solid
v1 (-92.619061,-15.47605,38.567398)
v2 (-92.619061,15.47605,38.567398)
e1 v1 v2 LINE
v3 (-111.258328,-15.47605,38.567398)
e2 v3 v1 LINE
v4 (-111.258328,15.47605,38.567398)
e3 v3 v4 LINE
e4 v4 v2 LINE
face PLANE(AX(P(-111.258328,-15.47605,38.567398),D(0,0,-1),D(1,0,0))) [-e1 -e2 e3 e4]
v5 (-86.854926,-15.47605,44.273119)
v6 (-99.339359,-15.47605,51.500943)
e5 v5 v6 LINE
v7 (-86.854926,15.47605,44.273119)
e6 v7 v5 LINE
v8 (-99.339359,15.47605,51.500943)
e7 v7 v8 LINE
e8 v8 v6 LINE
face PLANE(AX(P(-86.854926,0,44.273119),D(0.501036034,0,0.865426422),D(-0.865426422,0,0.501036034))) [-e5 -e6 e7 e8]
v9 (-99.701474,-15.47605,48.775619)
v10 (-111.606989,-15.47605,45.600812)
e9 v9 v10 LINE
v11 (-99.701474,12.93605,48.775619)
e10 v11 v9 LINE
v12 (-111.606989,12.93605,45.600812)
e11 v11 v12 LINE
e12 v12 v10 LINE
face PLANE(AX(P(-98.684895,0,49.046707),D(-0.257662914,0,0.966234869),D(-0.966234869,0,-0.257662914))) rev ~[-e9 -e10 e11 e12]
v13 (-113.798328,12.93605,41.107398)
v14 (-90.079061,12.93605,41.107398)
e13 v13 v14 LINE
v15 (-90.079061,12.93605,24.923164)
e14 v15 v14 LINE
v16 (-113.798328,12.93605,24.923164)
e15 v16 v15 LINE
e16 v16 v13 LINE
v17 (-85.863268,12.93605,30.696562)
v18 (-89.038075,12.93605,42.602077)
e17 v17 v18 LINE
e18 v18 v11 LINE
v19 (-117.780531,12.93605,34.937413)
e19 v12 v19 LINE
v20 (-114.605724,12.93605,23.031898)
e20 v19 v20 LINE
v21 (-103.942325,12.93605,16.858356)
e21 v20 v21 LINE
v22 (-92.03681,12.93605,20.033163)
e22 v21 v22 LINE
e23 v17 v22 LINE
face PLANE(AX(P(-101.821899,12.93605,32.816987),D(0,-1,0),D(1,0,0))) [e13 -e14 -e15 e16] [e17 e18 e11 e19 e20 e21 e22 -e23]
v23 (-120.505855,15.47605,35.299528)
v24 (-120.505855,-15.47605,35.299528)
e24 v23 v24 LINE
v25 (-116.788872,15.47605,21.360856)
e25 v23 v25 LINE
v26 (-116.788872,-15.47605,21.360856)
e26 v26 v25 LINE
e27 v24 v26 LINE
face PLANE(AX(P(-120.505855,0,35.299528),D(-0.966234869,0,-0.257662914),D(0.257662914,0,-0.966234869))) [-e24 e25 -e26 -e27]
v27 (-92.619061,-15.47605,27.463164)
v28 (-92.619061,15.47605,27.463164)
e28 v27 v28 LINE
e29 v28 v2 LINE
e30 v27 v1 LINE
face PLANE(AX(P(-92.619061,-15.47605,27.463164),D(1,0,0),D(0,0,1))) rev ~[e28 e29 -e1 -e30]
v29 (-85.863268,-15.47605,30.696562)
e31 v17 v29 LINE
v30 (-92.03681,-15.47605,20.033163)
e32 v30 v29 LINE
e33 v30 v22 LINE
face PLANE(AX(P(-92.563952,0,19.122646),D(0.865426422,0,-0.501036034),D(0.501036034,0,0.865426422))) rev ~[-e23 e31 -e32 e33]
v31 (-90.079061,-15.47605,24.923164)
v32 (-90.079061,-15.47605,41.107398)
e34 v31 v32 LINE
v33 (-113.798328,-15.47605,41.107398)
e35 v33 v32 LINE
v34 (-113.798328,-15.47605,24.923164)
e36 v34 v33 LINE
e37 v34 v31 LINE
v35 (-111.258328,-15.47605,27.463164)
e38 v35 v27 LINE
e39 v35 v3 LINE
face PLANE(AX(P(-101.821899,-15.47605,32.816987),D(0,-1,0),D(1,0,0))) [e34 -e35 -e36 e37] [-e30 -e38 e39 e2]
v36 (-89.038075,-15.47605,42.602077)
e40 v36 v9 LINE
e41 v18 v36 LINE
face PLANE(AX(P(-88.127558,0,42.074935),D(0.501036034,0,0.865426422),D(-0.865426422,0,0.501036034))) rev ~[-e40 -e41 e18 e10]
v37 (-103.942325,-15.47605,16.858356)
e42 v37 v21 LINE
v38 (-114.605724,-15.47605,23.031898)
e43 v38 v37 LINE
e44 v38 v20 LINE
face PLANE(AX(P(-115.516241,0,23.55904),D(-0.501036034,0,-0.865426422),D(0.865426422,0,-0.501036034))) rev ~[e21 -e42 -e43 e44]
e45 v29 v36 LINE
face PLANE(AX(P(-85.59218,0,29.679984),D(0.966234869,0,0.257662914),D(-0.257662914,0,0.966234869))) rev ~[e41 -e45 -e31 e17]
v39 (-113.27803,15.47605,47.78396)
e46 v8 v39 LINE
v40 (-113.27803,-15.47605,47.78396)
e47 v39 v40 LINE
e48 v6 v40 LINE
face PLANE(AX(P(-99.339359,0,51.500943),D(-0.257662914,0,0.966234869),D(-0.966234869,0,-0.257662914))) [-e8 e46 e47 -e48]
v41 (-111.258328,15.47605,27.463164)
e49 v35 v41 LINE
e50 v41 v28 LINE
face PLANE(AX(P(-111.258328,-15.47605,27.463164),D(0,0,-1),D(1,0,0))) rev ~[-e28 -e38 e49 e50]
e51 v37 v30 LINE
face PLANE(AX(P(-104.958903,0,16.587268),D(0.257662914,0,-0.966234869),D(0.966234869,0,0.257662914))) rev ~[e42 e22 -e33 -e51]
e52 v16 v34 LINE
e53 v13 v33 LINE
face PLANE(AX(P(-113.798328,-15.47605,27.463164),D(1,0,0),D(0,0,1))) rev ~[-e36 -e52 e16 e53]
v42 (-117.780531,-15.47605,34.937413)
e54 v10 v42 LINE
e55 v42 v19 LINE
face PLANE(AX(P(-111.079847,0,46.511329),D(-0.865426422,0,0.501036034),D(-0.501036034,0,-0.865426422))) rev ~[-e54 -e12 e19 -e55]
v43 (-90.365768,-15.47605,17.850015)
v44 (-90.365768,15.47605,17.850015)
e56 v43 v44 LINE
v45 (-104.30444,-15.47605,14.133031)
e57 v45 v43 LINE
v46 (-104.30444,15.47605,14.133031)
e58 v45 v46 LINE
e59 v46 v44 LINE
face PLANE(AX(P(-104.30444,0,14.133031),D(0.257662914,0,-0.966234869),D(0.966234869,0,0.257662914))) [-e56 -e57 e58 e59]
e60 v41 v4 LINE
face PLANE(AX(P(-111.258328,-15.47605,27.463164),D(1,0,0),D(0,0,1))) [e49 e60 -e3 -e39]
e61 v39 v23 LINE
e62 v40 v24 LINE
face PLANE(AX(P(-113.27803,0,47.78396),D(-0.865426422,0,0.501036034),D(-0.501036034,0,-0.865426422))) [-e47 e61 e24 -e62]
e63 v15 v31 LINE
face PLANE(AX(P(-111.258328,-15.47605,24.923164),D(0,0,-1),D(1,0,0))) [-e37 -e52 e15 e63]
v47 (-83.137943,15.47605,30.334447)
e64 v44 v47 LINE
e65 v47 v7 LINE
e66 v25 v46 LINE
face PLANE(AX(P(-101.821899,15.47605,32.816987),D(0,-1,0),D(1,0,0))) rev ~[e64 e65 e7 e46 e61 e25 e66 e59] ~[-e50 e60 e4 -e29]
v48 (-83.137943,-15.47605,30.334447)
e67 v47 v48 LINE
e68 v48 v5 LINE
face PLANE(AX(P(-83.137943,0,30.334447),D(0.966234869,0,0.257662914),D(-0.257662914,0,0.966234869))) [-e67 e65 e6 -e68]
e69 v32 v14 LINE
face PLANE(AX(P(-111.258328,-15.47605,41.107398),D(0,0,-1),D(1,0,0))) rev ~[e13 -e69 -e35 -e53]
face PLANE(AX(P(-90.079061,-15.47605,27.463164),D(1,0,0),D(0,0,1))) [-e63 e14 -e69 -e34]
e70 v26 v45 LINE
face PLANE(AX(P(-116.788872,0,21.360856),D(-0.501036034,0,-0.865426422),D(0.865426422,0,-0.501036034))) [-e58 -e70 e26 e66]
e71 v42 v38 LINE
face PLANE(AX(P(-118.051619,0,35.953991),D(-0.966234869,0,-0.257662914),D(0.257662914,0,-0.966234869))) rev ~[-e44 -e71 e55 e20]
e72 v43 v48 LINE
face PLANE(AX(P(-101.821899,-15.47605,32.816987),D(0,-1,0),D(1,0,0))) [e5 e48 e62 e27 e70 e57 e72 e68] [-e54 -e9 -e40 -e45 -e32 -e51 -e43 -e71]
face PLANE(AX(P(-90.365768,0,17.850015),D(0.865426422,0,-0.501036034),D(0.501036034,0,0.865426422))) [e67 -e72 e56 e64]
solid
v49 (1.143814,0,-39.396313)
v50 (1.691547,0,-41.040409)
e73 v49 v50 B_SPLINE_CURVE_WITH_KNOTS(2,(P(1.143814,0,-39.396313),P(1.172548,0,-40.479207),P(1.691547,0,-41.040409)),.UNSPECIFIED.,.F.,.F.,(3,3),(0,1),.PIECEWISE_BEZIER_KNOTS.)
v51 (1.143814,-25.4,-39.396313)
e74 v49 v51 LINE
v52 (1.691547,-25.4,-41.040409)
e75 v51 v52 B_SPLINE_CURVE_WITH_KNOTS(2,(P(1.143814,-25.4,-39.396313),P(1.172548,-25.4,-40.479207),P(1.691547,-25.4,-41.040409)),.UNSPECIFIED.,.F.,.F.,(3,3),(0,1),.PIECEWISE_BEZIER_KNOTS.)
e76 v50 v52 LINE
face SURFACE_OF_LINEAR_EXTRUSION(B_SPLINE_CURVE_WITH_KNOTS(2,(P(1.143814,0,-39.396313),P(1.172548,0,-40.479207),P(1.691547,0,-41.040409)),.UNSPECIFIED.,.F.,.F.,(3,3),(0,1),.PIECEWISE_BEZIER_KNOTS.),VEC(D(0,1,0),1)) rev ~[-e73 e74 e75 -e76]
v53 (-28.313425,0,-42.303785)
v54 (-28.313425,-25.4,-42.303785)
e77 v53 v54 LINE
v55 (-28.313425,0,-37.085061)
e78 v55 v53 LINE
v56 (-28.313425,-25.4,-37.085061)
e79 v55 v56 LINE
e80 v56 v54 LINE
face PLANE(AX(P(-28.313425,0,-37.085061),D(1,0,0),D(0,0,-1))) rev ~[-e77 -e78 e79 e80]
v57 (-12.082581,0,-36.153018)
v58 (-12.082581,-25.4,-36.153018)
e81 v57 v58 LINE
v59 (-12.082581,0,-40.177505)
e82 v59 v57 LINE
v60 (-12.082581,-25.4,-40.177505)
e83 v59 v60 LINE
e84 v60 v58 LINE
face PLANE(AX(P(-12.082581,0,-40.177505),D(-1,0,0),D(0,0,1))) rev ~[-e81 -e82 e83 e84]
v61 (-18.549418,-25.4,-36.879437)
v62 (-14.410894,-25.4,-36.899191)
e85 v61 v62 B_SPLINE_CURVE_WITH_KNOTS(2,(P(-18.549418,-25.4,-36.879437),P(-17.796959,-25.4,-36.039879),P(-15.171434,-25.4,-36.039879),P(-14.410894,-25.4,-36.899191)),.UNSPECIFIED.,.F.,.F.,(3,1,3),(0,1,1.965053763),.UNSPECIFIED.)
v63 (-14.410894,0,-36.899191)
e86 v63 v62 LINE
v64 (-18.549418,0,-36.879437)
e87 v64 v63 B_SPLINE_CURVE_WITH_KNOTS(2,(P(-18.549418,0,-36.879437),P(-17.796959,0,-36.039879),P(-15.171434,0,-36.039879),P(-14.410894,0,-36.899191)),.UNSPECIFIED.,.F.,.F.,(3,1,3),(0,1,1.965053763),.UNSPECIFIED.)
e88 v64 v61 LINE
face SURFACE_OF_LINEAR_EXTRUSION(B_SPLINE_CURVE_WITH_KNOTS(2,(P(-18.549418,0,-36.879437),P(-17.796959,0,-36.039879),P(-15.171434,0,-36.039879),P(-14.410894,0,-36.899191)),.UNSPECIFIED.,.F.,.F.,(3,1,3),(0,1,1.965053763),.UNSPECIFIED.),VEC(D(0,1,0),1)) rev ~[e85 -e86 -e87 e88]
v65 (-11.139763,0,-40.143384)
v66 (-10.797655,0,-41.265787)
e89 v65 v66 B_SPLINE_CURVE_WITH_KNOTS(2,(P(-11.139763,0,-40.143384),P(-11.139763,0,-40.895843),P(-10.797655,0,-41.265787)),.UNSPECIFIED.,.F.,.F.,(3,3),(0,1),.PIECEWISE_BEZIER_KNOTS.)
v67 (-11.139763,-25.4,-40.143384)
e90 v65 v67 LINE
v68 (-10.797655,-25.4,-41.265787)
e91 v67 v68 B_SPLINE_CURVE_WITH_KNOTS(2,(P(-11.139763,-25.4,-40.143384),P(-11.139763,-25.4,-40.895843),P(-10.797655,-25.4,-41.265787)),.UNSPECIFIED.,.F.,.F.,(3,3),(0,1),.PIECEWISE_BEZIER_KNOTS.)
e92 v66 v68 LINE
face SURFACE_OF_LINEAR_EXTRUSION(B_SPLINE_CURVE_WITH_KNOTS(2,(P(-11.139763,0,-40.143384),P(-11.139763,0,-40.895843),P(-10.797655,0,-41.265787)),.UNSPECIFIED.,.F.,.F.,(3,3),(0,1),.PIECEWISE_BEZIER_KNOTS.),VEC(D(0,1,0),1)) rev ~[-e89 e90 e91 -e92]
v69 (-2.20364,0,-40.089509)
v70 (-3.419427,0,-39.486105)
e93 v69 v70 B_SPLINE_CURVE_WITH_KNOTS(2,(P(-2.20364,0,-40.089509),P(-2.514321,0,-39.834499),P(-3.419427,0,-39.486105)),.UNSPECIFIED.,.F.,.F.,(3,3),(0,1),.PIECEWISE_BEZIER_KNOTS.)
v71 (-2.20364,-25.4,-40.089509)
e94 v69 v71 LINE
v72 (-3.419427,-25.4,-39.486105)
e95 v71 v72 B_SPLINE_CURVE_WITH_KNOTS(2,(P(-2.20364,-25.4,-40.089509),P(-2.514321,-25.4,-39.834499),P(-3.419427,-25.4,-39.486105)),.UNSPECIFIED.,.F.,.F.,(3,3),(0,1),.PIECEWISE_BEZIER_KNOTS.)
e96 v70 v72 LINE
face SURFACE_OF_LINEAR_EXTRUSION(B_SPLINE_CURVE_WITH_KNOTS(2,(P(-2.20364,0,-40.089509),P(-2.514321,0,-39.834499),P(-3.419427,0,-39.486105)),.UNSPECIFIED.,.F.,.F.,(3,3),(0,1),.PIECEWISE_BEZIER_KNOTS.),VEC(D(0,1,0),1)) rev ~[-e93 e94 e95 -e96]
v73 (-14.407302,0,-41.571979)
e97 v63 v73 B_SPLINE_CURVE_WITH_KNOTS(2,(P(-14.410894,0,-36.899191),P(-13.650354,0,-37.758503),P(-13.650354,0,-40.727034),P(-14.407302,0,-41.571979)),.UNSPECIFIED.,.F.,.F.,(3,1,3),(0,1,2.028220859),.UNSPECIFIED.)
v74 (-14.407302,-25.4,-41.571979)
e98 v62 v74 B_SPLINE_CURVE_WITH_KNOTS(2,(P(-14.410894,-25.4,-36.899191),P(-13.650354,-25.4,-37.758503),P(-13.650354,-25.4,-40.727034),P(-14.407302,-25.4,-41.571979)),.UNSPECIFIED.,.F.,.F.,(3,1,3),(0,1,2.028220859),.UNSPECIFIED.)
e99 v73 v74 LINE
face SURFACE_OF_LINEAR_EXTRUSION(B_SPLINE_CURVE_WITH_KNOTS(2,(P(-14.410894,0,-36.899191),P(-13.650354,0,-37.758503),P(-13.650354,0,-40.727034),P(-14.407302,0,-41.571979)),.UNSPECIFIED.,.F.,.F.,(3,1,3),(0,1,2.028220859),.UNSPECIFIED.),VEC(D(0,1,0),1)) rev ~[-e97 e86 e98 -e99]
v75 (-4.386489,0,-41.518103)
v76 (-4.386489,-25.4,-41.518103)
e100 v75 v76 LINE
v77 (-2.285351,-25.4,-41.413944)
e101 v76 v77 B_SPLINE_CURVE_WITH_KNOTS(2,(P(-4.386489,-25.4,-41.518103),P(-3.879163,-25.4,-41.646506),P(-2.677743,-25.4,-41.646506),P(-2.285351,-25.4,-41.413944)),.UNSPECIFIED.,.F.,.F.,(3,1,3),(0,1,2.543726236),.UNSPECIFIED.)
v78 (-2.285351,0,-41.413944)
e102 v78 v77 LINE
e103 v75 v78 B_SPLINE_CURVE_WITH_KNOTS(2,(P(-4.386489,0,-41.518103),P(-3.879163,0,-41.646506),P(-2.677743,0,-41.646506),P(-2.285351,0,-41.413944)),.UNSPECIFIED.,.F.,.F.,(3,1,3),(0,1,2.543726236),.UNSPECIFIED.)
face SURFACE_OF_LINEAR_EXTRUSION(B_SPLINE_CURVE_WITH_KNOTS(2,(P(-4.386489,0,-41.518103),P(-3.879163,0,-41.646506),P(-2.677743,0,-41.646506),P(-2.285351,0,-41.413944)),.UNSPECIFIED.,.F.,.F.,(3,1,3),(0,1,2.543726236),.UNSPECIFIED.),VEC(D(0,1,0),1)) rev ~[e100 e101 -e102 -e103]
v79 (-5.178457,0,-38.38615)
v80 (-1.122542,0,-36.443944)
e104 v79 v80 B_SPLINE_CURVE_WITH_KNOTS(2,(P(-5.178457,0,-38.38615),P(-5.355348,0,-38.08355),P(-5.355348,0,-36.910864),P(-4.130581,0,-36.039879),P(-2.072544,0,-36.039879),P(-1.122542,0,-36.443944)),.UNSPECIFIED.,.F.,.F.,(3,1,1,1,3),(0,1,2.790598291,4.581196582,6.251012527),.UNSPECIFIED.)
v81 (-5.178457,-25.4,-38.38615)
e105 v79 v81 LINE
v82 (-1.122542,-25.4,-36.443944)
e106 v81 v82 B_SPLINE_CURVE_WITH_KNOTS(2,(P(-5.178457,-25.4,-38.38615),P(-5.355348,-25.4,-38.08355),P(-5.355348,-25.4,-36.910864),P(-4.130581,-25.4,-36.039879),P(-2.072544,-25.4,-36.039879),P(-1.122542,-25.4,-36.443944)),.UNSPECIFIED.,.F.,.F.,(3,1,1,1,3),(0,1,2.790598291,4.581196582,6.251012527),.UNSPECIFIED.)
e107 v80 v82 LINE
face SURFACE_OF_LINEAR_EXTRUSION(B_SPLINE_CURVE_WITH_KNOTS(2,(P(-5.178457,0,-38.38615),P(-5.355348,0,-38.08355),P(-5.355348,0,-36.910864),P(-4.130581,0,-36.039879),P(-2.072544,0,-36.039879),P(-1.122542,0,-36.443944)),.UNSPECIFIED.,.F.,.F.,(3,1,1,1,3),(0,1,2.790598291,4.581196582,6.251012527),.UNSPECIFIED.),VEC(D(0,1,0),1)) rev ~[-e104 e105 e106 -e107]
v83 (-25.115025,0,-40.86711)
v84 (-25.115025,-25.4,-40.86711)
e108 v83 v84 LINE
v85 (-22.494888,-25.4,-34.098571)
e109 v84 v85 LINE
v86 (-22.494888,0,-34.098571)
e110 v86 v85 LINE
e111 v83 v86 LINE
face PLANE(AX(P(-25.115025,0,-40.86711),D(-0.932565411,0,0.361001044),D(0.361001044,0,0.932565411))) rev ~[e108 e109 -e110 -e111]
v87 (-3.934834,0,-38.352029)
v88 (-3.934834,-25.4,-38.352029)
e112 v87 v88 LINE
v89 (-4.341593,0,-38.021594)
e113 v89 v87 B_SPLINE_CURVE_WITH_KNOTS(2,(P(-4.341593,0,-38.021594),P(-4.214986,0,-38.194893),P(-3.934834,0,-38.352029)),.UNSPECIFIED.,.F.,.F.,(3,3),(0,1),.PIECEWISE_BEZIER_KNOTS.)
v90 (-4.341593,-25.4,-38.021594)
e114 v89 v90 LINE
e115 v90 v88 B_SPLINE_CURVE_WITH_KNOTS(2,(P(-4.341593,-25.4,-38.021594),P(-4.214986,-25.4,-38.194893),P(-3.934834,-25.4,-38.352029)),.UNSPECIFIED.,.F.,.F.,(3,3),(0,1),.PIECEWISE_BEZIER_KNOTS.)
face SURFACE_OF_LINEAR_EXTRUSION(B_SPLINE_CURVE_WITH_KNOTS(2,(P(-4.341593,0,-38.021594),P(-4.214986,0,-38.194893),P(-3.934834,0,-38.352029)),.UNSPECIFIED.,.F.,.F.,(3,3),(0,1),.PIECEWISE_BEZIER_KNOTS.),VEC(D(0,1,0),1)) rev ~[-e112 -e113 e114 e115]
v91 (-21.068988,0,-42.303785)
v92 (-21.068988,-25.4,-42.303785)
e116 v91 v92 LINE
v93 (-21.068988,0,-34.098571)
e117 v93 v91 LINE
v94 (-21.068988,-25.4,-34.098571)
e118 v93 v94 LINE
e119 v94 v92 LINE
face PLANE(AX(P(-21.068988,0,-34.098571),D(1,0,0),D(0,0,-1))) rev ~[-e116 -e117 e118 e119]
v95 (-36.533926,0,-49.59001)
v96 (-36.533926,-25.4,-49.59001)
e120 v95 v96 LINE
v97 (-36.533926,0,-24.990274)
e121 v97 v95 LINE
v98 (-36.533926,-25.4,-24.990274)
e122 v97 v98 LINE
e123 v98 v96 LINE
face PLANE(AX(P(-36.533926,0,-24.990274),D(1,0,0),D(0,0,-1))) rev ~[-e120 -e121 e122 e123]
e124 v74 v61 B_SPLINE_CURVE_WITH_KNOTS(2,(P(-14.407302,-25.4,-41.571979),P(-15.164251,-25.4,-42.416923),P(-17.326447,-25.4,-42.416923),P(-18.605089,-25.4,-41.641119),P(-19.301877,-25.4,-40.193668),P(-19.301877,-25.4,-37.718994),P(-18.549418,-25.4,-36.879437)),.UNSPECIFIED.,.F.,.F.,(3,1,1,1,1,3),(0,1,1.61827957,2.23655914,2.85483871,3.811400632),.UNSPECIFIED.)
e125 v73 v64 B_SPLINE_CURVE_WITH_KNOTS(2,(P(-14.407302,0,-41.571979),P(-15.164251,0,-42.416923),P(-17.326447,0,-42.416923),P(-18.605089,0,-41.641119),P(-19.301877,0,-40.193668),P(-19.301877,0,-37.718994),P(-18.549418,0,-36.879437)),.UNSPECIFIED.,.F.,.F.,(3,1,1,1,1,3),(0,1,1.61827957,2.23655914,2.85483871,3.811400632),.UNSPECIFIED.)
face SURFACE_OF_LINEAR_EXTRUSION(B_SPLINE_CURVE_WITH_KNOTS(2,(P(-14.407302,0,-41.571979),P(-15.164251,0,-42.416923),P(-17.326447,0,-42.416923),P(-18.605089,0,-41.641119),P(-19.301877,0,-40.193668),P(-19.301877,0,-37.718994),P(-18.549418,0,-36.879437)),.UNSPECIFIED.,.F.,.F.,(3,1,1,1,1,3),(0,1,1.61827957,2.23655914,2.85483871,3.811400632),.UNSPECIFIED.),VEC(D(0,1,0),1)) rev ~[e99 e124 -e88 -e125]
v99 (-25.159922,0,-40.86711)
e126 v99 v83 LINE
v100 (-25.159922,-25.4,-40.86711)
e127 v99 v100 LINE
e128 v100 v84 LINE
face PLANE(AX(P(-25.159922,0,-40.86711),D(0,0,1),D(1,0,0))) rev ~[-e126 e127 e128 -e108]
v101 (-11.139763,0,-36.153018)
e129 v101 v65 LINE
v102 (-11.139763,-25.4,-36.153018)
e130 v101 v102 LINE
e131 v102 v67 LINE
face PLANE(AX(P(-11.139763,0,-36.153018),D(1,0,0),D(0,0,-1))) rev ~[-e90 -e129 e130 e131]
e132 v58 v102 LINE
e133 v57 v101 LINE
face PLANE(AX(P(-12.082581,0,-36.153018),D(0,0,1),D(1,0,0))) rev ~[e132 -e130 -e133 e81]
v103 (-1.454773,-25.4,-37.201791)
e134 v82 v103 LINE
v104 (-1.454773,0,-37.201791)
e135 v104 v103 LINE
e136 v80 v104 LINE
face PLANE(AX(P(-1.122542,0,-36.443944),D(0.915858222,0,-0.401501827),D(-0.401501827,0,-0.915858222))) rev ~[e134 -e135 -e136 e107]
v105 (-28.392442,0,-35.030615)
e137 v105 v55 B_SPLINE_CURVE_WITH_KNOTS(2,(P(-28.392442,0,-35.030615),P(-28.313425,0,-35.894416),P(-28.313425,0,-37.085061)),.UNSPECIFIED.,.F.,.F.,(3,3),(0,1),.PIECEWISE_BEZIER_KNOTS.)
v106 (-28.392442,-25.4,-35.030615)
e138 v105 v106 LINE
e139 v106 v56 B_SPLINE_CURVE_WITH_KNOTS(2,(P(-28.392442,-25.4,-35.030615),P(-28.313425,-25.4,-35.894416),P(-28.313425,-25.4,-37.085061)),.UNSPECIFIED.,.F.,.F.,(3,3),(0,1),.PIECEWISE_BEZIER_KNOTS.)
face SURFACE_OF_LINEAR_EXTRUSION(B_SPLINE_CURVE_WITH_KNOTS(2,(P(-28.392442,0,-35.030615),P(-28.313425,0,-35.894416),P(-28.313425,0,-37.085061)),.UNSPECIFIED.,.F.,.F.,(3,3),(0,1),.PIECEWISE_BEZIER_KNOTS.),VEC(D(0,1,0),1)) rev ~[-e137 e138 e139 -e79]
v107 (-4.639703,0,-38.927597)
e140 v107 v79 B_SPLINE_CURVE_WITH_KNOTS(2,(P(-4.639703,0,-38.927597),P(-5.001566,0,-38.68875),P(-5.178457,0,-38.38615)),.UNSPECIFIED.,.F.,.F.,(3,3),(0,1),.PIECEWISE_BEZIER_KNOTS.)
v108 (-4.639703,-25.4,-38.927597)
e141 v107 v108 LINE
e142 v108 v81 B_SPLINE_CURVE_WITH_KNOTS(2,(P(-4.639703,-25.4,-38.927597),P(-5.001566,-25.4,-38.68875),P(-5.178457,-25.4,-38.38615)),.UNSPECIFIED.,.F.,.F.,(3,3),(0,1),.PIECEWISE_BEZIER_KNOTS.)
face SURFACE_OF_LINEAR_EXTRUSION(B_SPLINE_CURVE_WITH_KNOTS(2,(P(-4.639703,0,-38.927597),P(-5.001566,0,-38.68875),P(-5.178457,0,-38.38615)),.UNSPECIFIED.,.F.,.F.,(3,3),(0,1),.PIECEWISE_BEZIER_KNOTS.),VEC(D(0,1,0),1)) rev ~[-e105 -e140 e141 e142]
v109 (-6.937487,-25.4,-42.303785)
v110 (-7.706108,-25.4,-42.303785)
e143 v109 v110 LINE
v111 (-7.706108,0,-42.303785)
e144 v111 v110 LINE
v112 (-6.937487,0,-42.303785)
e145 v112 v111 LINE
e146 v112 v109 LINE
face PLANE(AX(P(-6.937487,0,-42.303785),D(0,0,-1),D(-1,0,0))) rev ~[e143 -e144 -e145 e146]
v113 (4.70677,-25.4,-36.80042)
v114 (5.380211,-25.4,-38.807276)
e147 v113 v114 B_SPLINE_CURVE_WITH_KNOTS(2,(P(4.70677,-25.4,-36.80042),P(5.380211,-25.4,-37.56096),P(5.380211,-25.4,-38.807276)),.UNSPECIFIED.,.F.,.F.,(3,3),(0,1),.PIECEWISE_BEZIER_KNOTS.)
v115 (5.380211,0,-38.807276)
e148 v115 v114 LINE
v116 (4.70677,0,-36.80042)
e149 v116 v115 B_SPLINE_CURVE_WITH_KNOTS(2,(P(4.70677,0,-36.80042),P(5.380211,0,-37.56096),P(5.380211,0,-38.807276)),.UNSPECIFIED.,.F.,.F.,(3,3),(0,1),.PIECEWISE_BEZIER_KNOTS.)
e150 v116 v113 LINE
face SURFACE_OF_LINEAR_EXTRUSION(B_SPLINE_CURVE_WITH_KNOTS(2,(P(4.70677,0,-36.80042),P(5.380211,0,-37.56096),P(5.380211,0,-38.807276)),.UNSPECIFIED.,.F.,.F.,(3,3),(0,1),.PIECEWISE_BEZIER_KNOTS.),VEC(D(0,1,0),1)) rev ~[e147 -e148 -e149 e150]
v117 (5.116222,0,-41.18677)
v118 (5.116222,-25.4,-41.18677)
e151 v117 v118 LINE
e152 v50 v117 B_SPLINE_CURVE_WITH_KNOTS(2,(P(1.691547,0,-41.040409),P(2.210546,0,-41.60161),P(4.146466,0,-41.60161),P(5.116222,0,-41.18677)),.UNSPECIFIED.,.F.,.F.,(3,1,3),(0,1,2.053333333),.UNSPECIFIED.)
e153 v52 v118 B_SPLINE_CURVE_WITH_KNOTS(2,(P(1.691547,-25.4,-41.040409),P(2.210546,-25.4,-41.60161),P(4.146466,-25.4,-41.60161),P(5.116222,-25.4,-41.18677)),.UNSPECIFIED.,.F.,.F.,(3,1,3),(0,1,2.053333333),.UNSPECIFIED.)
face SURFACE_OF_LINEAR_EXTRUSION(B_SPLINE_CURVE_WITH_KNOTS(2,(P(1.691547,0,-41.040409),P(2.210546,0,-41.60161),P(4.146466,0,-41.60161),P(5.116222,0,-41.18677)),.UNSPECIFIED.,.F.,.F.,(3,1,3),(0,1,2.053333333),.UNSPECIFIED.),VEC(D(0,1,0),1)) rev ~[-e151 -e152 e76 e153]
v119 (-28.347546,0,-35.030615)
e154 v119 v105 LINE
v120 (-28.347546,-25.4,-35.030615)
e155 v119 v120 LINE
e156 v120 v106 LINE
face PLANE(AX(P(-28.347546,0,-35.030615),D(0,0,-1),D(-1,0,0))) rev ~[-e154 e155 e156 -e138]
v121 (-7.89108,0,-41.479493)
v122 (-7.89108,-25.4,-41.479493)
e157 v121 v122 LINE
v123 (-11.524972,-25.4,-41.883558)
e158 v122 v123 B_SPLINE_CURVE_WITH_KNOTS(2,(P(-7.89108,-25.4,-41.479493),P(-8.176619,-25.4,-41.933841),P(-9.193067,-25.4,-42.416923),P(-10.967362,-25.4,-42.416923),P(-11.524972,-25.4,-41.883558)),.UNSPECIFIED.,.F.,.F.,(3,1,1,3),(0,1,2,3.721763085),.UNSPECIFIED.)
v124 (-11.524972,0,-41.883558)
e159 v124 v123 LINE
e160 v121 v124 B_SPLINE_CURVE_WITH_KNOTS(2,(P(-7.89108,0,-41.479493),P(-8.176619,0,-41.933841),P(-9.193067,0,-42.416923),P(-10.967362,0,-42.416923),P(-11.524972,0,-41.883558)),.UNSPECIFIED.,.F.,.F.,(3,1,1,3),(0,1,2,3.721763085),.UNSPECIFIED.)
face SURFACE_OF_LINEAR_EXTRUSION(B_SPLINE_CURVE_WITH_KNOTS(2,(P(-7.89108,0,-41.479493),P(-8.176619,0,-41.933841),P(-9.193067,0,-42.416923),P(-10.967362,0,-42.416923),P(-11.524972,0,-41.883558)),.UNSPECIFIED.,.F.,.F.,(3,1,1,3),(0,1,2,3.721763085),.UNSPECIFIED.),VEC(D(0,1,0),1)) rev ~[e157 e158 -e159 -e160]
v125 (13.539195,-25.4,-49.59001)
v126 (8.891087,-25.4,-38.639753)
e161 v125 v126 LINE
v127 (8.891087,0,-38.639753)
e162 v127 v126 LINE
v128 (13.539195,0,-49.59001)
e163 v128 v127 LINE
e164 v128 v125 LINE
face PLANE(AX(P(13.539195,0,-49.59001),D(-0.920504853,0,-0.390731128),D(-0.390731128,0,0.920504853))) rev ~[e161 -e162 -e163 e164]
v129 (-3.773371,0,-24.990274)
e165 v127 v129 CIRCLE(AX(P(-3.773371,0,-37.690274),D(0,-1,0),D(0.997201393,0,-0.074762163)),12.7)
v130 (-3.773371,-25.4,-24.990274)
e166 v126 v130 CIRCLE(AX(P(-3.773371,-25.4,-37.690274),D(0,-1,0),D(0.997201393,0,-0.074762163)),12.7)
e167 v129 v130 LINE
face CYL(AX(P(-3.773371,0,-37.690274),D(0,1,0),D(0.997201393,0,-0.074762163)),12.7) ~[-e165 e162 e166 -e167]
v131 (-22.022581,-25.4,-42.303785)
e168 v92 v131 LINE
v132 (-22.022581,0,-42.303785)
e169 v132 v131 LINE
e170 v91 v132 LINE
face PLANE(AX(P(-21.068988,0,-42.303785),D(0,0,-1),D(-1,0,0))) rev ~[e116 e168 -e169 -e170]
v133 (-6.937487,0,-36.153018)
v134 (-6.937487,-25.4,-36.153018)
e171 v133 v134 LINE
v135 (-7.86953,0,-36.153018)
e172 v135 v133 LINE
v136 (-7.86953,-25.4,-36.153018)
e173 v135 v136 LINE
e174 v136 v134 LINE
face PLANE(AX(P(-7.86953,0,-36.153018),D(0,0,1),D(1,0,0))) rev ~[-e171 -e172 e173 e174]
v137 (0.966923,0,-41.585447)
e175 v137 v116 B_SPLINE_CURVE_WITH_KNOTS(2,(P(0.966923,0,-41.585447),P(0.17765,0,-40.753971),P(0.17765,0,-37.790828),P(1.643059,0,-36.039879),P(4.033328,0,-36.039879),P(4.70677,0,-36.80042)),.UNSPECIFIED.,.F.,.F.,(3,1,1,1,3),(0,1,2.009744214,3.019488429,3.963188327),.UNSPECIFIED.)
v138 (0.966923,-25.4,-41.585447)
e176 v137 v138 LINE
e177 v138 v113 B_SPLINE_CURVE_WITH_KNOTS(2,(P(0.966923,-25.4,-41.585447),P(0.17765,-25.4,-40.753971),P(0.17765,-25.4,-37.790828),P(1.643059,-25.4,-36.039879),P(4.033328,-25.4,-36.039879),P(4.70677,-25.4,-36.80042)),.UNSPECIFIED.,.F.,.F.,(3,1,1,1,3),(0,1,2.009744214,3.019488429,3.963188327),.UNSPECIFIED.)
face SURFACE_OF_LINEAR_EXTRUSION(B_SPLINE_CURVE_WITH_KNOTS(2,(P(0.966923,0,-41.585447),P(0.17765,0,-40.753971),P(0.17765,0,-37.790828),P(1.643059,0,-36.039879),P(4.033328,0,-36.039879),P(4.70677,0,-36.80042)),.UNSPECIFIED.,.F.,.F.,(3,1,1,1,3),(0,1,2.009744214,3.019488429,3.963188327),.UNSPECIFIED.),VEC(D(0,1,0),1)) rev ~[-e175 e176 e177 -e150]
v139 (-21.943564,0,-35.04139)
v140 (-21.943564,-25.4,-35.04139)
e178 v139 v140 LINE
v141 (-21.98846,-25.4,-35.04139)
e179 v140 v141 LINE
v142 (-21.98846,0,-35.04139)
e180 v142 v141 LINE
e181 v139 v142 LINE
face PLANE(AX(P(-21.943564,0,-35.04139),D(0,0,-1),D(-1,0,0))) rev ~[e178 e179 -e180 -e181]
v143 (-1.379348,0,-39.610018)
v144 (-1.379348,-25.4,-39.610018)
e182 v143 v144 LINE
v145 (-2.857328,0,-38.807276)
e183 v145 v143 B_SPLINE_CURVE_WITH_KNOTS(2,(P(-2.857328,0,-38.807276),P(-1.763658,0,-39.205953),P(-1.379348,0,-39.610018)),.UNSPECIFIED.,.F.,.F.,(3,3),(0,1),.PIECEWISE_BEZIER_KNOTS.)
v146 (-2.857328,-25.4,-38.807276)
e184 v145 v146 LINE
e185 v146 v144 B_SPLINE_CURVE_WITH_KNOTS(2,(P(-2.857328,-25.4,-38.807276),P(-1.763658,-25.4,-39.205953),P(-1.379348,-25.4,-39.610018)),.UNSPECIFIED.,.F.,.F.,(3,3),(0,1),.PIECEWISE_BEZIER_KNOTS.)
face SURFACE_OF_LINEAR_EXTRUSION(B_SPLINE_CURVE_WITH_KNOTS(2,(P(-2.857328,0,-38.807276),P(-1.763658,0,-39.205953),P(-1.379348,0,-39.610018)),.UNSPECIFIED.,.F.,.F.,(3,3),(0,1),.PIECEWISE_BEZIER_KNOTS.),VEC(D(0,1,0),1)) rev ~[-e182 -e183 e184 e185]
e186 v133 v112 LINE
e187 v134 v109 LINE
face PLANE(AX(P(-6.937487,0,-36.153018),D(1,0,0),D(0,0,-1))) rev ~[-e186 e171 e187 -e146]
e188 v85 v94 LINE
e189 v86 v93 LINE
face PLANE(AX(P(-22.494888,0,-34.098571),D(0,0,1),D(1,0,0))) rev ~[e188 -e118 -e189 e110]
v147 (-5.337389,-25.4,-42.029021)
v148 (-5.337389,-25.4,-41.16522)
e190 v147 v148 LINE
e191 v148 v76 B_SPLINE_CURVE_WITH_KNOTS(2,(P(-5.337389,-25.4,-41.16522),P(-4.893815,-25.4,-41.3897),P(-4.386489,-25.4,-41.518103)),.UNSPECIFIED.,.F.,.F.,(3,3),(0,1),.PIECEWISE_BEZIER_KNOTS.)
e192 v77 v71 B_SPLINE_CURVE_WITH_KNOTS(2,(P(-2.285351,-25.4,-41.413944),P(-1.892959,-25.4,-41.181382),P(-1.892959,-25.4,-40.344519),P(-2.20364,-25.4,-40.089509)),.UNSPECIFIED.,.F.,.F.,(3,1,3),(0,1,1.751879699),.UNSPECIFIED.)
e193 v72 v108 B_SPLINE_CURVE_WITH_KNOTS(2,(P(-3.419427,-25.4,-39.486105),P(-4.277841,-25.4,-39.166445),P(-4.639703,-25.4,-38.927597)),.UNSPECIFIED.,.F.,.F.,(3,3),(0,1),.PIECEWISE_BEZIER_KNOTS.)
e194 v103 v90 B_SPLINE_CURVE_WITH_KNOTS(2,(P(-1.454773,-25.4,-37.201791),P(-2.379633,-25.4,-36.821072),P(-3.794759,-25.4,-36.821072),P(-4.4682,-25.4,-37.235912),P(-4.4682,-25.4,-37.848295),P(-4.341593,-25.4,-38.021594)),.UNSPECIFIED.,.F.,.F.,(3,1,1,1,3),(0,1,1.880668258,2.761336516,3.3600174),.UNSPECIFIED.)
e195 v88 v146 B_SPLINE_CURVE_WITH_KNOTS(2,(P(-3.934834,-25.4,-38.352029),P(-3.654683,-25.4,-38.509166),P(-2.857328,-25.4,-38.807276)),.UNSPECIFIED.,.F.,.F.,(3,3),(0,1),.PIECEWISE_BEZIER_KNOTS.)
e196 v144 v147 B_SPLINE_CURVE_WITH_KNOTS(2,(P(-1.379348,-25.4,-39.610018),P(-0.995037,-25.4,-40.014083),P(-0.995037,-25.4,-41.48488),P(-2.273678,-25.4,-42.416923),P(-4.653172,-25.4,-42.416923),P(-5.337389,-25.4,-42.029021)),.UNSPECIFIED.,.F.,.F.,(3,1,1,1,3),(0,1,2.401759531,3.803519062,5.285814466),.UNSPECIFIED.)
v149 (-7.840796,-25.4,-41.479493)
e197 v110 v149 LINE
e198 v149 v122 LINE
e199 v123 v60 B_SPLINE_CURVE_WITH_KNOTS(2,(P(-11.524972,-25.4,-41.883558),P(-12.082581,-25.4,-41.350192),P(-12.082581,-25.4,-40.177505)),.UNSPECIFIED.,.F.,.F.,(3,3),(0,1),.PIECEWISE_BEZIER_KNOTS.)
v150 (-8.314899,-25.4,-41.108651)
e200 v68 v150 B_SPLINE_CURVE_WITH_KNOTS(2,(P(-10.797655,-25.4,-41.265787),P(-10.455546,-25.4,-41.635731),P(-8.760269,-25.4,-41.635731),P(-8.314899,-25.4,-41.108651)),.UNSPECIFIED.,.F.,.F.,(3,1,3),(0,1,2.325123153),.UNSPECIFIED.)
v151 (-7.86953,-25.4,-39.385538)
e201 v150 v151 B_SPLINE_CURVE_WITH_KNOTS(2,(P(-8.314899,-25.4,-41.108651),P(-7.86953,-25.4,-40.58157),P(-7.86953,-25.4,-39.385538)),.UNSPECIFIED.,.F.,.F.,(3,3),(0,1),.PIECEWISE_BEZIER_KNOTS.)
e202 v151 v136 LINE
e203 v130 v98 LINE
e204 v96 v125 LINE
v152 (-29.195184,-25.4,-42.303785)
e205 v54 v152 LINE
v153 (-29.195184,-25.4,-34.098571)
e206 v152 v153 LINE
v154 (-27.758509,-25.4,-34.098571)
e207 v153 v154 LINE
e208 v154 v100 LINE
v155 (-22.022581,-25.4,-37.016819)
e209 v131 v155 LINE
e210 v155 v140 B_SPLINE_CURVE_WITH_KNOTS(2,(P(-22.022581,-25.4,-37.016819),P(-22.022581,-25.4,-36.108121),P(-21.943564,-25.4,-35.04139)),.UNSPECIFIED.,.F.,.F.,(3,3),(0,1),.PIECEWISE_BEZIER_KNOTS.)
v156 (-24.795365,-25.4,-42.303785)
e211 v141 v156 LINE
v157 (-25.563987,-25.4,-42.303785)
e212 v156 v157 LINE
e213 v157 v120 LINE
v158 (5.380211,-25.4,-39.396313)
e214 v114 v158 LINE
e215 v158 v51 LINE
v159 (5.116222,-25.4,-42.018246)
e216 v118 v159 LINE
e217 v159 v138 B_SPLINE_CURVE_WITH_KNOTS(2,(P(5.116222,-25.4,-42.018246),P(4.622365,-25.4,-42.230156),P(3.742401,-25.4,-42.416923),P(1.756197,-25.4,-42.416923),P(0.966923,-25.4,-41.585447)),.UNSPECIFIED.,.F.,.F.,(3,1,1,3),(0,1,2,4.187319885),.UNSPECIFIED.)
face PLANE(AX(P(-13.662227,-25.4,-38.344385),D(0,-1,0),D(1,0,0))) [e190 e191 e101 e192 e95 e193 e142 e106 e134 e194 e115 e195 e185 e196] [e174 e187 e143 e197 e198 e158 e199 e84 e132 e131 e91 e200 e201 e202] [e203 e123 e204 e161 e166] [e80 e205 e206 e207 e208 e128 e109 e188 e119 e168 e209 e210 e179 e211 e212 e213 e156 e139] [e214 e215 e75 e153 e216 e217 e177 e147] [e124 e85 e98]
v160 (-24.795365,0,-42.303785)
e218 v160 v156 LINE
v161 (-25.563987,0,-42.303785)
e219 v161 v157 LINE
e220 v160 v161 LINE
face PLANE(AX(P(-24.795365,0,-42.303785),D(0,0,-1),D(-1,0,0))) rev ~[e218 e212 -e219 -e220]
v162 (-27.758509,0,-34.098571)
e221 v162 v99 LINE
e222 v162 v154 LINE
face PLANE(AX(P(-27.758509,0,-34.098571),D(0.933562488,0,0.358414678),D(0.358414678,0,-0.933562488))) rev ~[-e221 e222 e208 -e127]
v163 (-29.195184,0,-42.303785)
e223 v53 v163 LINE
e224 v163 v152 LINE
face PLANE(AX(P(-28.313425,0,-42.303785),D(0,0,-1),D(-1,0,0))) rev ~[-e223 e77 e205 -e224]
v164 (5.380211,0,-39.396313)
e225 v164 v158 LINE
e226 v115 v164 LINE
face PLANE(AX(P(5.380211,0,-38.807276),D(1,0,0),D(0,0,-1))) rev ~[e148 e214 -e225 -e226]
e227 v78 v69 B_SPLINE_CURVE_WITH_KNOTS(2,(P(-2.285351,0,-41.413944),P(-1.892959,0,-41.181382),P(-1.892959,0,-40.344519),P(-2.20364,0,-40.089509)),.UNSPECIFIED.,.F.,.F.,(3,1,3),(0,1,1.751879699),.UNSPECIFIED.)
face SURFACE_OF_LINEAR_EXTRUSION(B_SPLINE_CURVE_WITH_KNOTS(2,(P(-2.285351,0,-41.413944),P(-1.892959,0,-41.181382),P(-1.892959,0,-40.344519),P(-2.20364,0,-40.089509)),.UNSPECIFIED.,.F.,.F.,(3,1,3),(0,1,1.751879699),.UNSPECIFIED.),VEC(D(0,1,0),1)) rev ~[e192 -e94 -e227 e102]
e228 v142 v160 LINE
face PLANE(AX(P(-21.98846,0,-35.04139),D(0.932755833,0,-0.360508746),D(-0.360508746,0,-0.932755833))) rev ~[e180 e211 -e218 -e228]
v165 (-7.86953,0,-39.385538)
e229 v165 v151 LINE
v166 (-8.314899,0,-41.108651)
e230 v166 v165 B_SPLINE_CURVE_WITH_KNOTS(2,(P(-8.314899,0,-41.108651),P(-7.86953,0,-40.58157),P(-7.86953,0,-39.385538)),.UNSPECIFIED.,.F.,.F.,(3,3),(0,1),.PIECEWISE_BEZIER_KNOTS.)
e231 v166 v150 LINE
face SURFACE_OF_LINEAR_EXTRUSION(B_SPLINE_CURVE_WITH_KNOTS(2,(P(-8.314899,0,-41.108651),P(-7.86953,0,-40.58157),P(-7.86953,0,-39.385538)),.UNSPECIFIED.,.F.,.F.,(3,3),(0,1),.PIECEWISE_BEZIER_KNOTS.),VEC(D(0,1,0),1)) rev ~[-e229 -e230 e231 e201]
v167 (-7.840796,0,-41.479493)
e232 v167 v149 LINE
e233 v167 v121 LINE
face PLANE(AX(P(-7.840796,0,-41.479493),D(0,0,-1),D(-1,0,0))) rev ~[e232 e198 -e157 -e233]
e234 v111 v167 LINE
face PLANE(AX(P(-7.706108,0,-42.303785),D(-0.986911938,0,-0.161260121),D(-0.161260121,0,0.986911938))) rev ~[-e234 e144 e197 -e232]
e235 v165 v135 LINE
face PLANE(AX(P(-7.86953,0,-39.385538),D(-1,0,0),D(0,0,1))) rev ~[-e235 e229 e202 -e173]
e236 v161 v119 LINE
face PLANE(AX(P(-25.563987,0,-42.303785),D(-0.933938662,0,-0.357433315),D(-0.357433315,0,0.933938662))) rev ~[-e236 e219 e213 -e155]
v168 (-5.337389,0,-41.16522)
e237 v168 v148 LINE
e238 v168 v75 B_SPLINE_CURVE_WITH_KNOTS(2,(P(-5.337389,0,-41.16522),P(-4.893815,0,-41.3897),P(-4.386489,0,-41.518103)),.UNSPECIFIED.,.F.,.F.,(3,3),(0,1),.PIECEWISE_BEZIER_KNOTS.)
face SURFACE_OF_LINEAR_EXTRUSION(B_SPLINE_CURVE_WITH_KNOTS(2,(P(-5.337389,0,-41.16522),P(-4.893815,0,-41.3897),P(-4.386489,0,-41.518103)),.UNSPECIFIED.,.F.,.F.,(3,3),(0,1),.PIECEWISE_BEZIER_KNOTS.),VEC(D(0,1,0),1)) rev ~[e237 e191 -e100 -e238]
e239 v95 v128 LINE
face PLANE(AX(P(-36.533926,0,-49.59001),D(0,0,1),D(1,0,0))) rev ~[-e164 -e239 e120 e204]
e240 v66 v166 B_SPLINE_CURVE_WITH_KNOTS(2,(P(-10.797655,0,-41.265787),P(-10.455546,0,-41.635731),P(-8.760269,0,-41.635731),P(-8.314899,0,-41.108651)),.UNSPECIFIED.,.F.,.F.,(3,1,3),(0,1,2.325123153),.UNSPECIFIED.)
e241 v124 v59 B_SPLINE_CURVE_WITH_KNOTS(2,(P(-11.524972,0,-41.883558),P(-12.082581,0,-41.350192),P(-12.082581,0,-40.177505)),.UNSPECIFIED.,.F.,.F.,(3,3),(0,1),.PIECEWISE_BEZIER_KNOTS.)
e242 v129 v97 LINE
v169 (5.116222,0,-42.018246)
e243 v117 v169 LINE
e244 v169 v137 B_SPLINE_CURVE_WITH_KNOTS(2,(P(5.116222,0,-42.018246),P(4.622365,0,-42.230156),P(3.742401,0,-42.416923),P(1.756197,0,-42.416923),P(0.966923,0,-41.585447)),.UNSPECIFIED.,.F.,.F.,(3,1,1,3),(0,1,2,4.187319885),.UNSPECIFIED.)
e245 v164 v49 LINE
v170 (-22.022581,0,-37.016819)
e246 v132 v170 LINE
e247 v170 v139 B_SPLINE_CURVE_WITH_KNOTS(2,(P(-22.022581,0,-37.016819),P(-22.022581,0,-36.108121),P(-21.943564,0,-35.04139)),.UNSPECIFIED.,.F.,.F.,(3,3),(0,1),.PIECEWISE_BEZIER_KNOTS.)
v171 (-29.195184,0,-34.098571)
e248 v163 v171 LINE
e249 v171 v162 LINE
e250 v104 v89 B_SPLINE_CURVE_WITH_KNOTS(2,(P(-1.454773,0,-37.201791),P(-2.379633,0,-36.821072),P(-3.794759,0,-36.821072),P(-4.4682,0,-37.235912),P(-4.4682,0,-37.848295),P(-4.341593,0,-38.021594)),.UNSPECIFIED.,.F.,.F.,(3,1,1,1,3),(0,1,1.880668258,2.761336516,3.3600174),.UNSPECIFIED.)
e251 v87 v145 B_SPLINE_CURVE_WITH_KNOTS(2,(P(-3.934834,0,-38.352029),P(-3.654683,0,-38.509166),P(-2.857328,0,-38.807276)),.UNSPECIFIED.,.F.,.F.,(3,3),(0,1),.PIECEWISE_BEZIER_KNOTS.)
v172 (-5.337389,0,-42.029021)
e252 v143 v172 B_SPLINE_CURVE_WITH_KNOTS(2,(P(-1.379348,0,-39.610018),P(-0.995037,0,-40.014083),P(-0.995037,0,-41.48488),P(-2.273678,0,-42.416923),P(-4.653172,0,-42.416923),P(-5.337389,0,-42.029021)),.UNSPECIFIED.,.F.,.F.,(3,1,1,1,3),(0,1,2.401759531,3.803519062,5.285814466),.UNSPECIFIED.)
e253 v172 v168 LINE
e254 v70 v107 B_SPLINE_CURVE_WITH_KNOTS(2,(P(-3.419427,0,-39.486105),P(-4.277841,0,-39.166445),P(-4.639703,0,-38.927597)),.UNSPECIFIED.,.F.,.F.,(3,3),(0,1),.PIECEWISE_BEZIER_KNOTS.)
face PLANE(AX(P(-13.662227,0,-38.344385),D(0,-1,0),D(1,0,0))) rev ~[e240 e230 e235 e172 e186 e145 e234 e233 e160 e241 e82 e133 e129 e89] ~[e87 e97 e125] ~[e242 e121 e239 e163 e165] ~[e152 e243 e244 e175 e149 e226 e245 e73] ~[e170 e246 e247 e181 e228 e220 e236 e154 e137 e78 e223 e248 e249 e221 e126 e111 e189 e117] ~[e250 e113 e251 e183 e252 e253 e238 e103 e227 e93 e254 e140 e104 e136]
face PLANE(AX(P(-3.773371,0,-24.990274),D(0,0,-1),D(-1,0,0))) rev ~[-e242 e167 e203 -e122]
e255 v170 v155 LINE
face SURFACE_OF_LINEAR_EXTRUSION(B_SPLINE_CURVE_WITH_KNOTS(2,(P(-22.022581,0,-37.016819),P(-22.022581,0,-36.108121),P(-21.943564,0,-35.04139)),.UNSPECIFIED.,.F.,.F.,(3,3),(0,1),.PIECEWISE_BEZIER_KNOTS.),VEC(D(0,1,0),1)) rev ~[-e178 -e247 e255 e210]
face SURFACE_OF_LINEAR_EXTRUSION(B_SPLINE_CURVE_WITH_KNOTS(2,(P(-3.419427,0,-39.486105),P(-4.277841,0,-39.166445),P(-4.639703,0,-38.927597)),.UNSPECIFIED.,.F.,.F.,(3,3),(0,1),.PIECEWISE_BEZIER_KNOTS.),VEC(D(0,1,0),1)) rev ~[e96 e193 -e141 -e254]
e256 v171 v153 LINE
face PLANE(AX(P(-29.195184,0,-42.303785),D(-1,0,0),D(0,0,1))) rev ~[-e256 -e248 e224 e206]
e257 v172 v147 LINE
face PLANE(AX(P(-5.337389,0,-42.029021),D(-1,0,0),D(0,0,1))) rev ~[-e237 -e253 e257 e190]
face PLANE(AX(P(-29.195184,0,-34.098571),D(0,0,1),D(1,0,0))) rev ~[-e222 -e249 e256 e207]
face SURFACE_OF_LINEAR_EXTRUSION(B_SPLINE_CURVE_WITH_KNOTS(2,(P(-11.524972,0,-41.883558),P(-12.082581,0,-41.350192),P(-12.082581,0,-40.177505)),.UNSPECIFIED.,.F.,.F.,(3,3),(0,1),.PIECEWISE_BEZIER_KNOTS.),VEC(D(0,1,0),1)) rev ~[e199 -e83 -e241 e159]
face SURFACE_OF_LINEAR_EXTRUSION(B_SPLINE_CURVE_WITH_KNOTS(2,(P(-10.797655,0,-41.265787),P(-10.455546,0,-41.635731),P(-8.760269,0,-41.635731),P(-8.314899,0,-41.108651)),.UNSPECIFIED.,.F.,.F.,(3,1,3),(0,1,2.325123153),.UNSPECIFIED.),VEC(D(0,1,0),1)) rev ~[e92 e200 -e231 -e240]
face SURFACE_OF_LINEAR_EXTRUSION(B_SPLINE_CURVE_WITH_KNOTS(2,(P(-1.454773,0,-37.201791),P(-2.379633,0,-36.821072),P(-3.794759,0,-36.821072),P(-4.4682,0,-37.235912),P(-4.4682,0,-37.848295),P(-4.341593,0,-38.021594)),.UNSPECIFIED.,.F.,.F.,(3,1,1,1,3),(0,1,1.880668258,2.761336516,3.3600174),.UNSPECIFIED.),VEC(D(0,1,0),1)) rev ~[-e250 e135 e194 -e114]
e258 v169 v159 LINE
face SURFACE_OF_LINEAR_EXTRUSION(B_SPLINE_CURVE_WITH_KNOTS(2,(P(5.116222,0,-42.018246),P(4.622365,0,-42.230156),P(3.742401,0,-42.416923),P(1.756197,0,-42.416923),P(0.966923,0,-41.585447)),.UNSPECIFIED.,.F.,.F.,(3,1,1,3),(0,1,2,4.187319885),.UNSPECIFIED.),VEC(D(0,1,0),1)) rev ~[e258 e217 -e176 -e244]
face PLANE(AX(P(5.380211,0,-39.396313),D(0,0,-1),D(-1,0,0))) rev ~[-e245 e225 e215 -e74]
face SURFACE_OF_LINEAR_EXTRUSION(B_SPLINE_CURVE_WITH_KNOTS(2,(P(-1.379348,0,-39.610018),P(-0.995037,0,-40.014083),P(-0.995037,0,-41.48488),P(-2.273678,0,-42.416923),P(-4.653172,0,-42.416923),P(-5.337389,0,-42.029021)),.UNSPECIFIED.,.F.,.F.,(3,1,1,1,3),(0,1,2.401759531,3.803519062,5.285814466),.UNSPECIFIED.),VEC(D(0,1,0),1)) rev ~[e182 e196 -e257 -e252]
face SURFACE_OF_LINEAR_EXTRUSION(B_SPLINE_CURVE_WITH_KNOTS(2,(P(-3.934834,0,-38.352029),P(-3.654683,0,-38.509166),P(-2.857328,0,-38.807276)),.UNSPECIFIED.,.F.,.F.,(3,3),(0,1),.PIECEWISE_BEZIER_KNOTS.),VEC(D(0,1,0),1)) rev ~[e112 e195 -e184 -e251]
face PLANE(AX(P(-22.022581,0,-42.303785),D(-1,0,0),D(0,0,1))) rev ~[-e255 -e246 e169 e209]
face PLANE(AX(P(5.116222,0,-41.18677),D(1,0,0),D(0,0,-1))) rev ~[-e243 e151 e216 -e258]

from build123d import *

# Parameters (mm, degrees)
F1_DEPTH = 25.4
F2_DEPTH = 15.47605
F3_W     = 18.6392664909
F3_H     = 11.1042335629
F4_DEPTH = 30.9521
F5_T     = -2.54


with BuildPart() as f1:
    # F0 (on Front) → F1 (new body)
    with BuildSketch(Plane.XZ):
        with BuildLine():
            Line((-3.773370779, -24.9902736396), (-36.5339256823, -24.9902736396))
            Line((-36.5339256823, -24.9902736396), (-36.5339256823, -37.2901419178))
            Line((-36.5339256823, -37.2901419178), (-36.5339256823, -49.590010196))
            Line((-36.5339256823, -49.590010196), (13.5391952785, -49.590010196))
            Line((13.5391952785, -49.590010196), (8.8910869166, -38.6397531151))
            ThreePointArc((8.8910869166, -38.6397531151), (5.5365268933, -29.052229571), (-3.773370779, -24.9902736396))
        make_face()
        with BuildLine():
            Line((-24.7953651081, -42.3037852307), (-25.5639865894, -42.3037852307))
            Line((-25.5639865894, -42.3037852307), (-28.347545692, -35.0306146721))
            Line((-28.347545692, -35.0306146721), (-28.3924418066, -35.0306146721))
            add(Edge.make_bspline(
                [(-28.3924418066, -35.0306146721), (-28.313424645, -35.8944159162), (-28.313424645, -37.0850608743)],
                knots=[0, 0, 0, 1, 1, 1], degree=2))
            Line((-28.313424645, -37.0850608743), (-28.313424645, -42.3037852307))
            Line((-28.313424645, -42.3037852307), (-29.1951843349, -42.3037852307))
            Line((-29.1951843349, -42.3037852307), (-29.1951843349, -34.0985713339))
            Line((-29.1951843349, -34.0985713339), (-27.758508669, -34.0985713339))
            Line((-27.758508669, -34.0985713339), (-25.1599215583, -40.8671095648))
            Line((-25.1599215583, -40.8671095648), (-25.1150254438, -40.8671095648))
            Line((-25.1150254438, -40.8671095648), (-22.4948881981, -34.0985713339))
            Line((-22.4948881981, -34.0985713339), (-21.0689875997, -34.0985713339))
            Line((-21.0689875997, -34.0985713339), (-21.0689875997, -42.3037852307))
            Line((-21.0689875997, -42.3037852307), (-22.0225810729, -42.3037852307))
            Line((-22.0225810729, -42.3037852307), (-22.0225810729, -37.0168187802))
            add(Edge.make_bspline(
                [(-22.0225810729, -37.0168187802), (-22.0225810729, -36.1081214215), (-21.9435639113, -35.0413897396)],
                knots=[0, 0, 0, 1, 1, 1], degree=2))
            Line((-21.9435639113, -35.0413897396), (-21.9884600258, -35.0413897396))
            Line((-21.9884600258, -35.0413897396), (-24.7953651081, -42.3037852307))
        make_face(mode=Mode.SUBTRACT)
        with BuildLine():
            add(Edge.make_bspline(
                [(-14.4108938105, -36.8991909601), (-13.6503536299, -37.7585025927), (-13.6503536299, -39.2221159274)],
                knots=[0, 0, 0, 1, 1, 1], degree=2))
            add(Edge.make_bspline(
                [(-13.6503536299, -39.2221159274), (-13.6503536299, -40.7270336874), (-14.4073021213, -41.5719785634)],
                knots=[0, 0, 0, 1, 1, 1], degree=2))
            add(Edge.make_bspline(
                [(-14.4073021213, -41.5719785634), (-15.1642506128, -42.4169234394), (-16.5003589821, -42.4169234394)],
                knots=[0, 0, 0, 1, 1, 1], degree=2))
            add(Edge.make_bspline(
                [(-16.5003589821, -42.4169234394), (-17.32644749, -42.4169234394), (-17.9657681613, -42.0290210096)],
                knots=[0, 0, 0, 1, 1, 1], degree=2))
            add(Edge.make_bspline(
                [(-17.9657681613, -42.0290210096), (-18.6050888326, -41.6411185798), (-18.9534826816, -40.9173932131)],
                knots=[0, 0, 0, 1, 1, 1], degree=2))
            add(Edge.make_bspline(
                [(-18.9534826816, -40.9173932131), (-19.3018765306, -40.1936678464), (-19.3018765306, -39.2221159274)],
                knots=[0, 0, 0, 1, 1, 1], degree=2))
            add(Edge.make_bspline(
                [(-19.3018765306, -39.2221159274), (-19.3018765306, -37.7189940119), (-18.5494176506, -36.8794366697)],
                knots=[0, 0, 0, 1, 1, 1], degree=2))
            add(Edge.make_bspline(
                [(-18.5494176506, -36.8794366697), (-17.7969587706, -36.0398793274), (-16.4608504013, -36.0398793274)],
                knots=[0, 0, 0, 1, 1, 1], degree=2))
            add(Edge.make_bspline(
                [(-16.4608504013, -36.0398793274), (-15.1714339911, -36.0398793274), (-14.4108938105, -36.8991909601)],
                knots=[0, 0, 0, 1, 1, 1], degree=2))
        make_face(mode=Mode.SUBTRACT)
        with BuildLine():
            Line((-12.0825813095, -36.1530175361), (-11.1397629037, -36.1530175361))
            Line((-11.1397629037, -36.1530175361), (-11.1397629037, -40.1433841981))
            add(Edge.make_bspline(
                [(-11.1397629037, -40.1433841981), (-11.1397629037, -40.8958430781), (-10.7976545108, -41.2657870621)],
                knots=[0, 0, 0, 1, 1, 1], degree=2))
            add(Edge.make_bspline(
                [(-10.7976545108, -41.2657870621), (-10.4555461178, -41.6357310461), (-9.7264332174, -41.6357310461)],
                knots=[0, 0, 0, 1, 1, 1], degree=2))
            add(Edge.make_bspline(
                [(-9.7264332174, -41.6357310461), (-8.7602688321, -41.6357310461), (-8.3148993756, -41.1086506612)],
                knots=[0, 0, 0, 1, 1, 1], degree=2))
            add(Edge.make_bspline(
                [(-8.3148993756, -41.1086506612), (-7.8695299192, -40.5815702762), (-7.8695299192, -39.3855377844)],
                knots=[0, 0, 0, 1, 1, 1], degree=2))
            Line((-7.8695299192, -39.3855377844), (-7.8695299192, -36.1530175361))
            Line((-7.8695299192, -36.1530175361), (-6.937486581, -36.1530175361))
            Line((-6.937486581, -36.1530175361), (-6.937486581, -42.3037852307))
            Line((-6.937486581, -42.3037852307), (-7.7061080622, -42.3037852307))
            Line((-7.7061080622, -42.3037852307), (-7.8407964059, -41.4794925674))
            Line((-7.8407964059, -41.4794925674), (-7.8910800542, -41.4794925674))
            add(Edge.make_bspline(
                [(-7.8910800542, -41.4794925674), (-8.1766193428, -41.9338412468), (-8.6848433596, -42.1753823431)],
                knots=[0, 0, 0, 1, 1, 1], degree=2))
            add(Edge.make_bspline(
                [(-8.6848433596, -42.1753823431), (-9.1930673764, -42.4169234394), (-9.8449589598, -42.4169234394)],
                knots=[0, 0, 0, 1, 1, 1], degree=2))
            add(Edge.make_bspline(
                [(-9.8449589598, -42.4169234394), (-10.9673618238, -42.4169234394), (-11.5249715666, -41.8835575984)],
                knots=[0, 0, 0, 1, 1, 1], degree=2))
            add(Edge.make_bspline(
                [(-11.5249715666, -41.8835575984), (-12.0825813095, -41.3501917575), (-12.0825813095, -40.1775052452)],
                knots=[0, 0, 0, 1, 1, 1], degree=2))
            Line((-12.0825813095, -40.1775052452), (-12.0825813095, -36.1530175361))
        make_face(mode=Mode.SUBTRACT)
        with BuildLine():
            add(Edge.make_bspline(
                [(-1.3793475985, -39.6100183572), (-0.9950368579, -40.0140833882), (-0.9950368579, -40.6264663908)],
                knots=[0, 0, 0, 1, 1, 1], degree=2))
            add(Edge.make_bspline(
                [(-0.9950368579, -40.6264663908), (-0.9950368579, -41.4848801012), (-1.6343575292, -41.9509017703)],
                knots=[0, 0, 0, 1, 1, 1], degree=2))
            add(Edge.make_bspline(
                [(-1.6343575292, -41.9509017703), (-2.2736782005, -42.4169234394), (-3.4302021116, -42.4169234394)],
                knots=[0, 0, 0, 1, 1, 1], degree=2))
            add(Edge.make_bspline(
                [(-3.4302021116, -42.4169234394), (-4.6531722722, -42.4169234394), (-5.3373890581, -42.0290210096)],
                knots=[0, 0, 0, 1, 1, 1], degree=2))
            Line((-5.3373890581, -42.0290210096), (-5.3373890581, -41.1652197655))
            add(Edge.make_bspline(
                [(-5.3373890581, -41.1652197655), (-4.8938154462, -41.3897003383), (-4.3864893517, -41.5181032259)],
                knots=[0, 0, 0, 1, 1, 1], degree=2))
            add(Edge.make_bspline(
                [(-4.3864893517, -41.5181032259), (-3.8791632572, -41.6465061136), (-3.406856132, -41.6465061136)],
                knots=[0, 0, 0, 1, 1, 1], degree=2))
            add(Edge.make_bspline(
                [(-3.406856132, -41.6465061136), (-2.6777432316, -41.6465061136), (-2.2853511903, -41.4139442402)],
                knots=[0, 0, 0, 1, 1, 1], degree=2))
            add(Edge.make_bspline(
                [(-2.2853511903, -41.4139442402), (-1.8929591491, -41.1813823667), (-1.8929591491, -40.7036877078)],
                knots=[0, 0, 0, 1, 1, 1], degree=2))
            add(Edge.make_bspline(
                [(-1.8929591491, -40.7036877078), (-1.8929591491, -40.3445187914), (-2.2036402618, -40.0895088607)],
                knots=[0, 0, 0, 1, 1, 1], degree=2))
            add(Edge.make_bspline(
                [(-2.2036402618, -40.0895088607), (-2.5143213746, -39.83449893), (-3.4194270441, -39.486105081)],
                knots=[0, 0, 0, 1, 1, 1], degree=2))
            add(Edge.make_bspline(
                [(-3.4194270441, -39.486105081), (-4.2778407545, -39.1664447453), (-4.6397034378, -38.9275974159)],
                knots=[0, 0, 0, 1, 1, 1], degree=2))
            add(Edge.make_bspline(
                [(-4.6397034378, -38.9275974159), (-5.0015661212, -38.6887500864), (-5.1784568125, -38.3861502743)],
                knots=[0, 0, 0, 1, 1, 1], degree=2))
            add(Edge.make_bspline(
                [(-5.1784568125, -38.3861502743), (-5.3553475039, -38.0835504621), (-5.3553475039, -37.6633228299)],
                knots=[0, 0, 0, 1, 1, 1], degree=2))
            add(Edge.make_bspline(
                [(-5.3553475039, -37.6633228299), (-5.3553475039, -36.9108639498), (-4.7429645013, -36.4753716386)],
                knots=[0, 0, 0, 1, 1, 1], degree=2))
            add(Edge.make_bspline(
                [(-4.7429645013, -36.4753716386), (-4.1305814987, -36.0398793274), (-3.0656456614, -36.0398793274)],
                knots=[0, 0, 0, 1, 1, 1], degree=2))
            add(Edge.make_bspline(
                [(-3.0656456614, -36.0398793274), (-2.0725436073, -36.0398793274), (-1.1225418232, -36.4439443584)],
                knots=[0, 0, 0, 1, 1, 1], degree=2))
            Line((-1.1225418232, -36.4439443584), (-1.454773071, -37.2017907722))
            add(Edge.make_bspline(
                [(-1.454773071, -37.2017907722), (-2.3796330309, -36.8210717207), (-3.1320919109, -36.8210717207)],
                knots=[0, 0, 0, 1, 1, 1], degree=2))
            add(Edge.make_bspline(
                [(-3.1320919109, -36.8210717207), (-3.7947585618, -36.8210717207), (-4.131479421, -37.02849177)],
                knots=[0, 0, 0, 1, 1, 1], degree=2))
            add(Edge.make_bspline(
                [(-4.131479421, -37.02849177), (-4.4682002802, -37.2359118193), (-4.4682002802, -37.6004682695)],
                knots=[0, 0, 0, 1, 1, 1], degree=2))
            add(Edge.make_bspline(
                [(-4.4682002802, -37.6004682695), (-4.4682002802, -37.8482948218), (-4.3415932371, -38.021593824)],
                knots=[0, 0, 0, 1, 1, 1], degree=2))
            add(Edge.make_bspline(
                [(-4.3415932371, -38.021593824), (-4.2149861941, -38.1948928262), (-3.9348344392, -38.3520292272)],
                knots=[0, 0, 0, 1, 1, 1], degree=2))
            add(Edge.make_bspline(
                [(-3.9348344392, -38.3520292272), (-3.6546826844, -38.5091656282), (-2.8573276898, -38.8072758288)],
                knots=[0, 0, 0, 1, 1, 1], degree=2))
            add(Edge.make_bspline(
                [(-2.8573276898, -38.8072758288), (-1.7636583391, -39.2059533261), (-1.3793475985, -39.6100183572)],
                knots=[0, 0, 0, 1, 1, 1], degree=2))
        make_face(mode=Mode.SUBTRACT)
        with BuildLine():
            add(Edge.make_bspline(
                [(4.1823830731, -42.3235395211), (3.7424011504, -42.4169234394), (3.1192430803, -42.4169234394)],
                knots=[0, 0, 0, 1, 1, 1], degree=2))
            add(Edge.make_bspline(
                [(3.1192430803, -42.4169234394), (1.7561970423, -42.4169234394), (0.9669233484, -41.5854473978)],
                knots=[0, 0, 0, 1, 1, 1], degree=2))
            add(Edge.make_bspline(
                [(0.9669233484, -41.5854473978), (0.1776496544, -40.7539713561), (0.1776496544, -39.279582954)],
                knots=[0, 0, 0, 1, 1, 1], degree=2))
            add(Edge.make_bspline(
                [(0.1776496544, -39.279582954), (0.1776496544, -37.7908277952), (0.910354244, -36.9153535613)],
                knots=[0, 0, 0, 1, 1, 1], degree=2))
            add(Edge.make_bspline(
                [(0.910354244, -36.9153535613), (1.6430588336, -36.0398793274), (2.8785999063, -36.0398793274)],
                knots=[0, 0, 0, 1, 1, 1], degree=2))
            add(Edge.make_bspline(
                [(2.8785999063, -36.0398793274), (4.0333279728, -36.0398793274), (4.7067696912, -36.800419508)],
                knots=[0, 0, 0, 1, 1, 1], degree=2))
            add(Edge.make_bspline(
                [(4.7067696912, -36.800419508), (5.3802114096, -37.5609596887), (5.3802114096, -38.8072758288)],
                knots=[0, 0, 0, 1, 1, 1], degree=2))
            Line((5.3802114096, -38.8072758288), (5.3802114096, -39.3963128519))
            Line((5.3802114096, -39.3963128519), (1.1438140397, -39.3963128519))
            add(Edge.make_bspline(
                [(1.1438140397, -39.3963128519), (1.172547553, -40.479207135), (1.6915466374, -41.040408567)],
                knots=[0, 0, 0, 1, 1, 1], degree=2))
            add(Edge.make_bspline(
                [(1.6915466374, -41.040408567), (2.2105457217, -41.601609999), (3.1533641274, -41.601609999)],
                knots=[0, 0, 0, 1, 1, 1], degree=2))
            add(Edge.make_bspline(
                [(3.1533641274, -41.601609999), (4.1464661815, -41.601609999), (5.1162222559, -41.1867699005)],
                knots=[0, 0, 0, 1, 1, 1], degree=2))
            Line((5.1162222559, -41.1867699005), (5.1162222559, -42.0182459421))
            add(Edge.make_bspline(
                [(5.1162222559, -42.0182459421), (4.6223649958, -42.2301556028), (4.1823830731, -42.3235395211)],
                knots=[0, 0, 0, 1, 1, 1], degree=2))
        make_face(mode=Mode.SUBTRACT)
    extrude(amount=F1_DEPTH)


with BuildPart() as f2:
    # F0 (on Front) → F2 (new body, symmetric)
    with BuildSketch(Plane.XZ):
        Polygon((-90.3657683966, 17.8500145408), (-83.137943423, 30.3344473508), (-86.8549264702, 44.2731185021), (-99.3393592802, 51.5009434757), (-113.2780304315, 47.7839604286), (-120.5058554051, 35.2995276186), (-116.7888723579, 21.3608564673), (-104.3044395479, 14.1330314937), align=None)
    extrude(amount=F2_DEPTH, both=True)

    # F3 (on face) → F4 (cut, through all)
    with BuildSketch(Plane.XZ.offset(15.47605)):
        with Locations((-101.9386947155, 33.015280962)):
            Rectangle(F3_W, F3_H)
    extrude(amount=-F4_DEPTH, mode=Mode.SUBTRACT)

    # F5
    f5_openings = [f2.faces().sort_by_distance(p)[0] for p in [
        (-97.471269, -15.47605, 16.502142),
    ]]
    offset(amount=F5_T, openings=f5_openings, kind=Kind.INTERSECTION)


solid = Compound([f1.part, f2.part])
